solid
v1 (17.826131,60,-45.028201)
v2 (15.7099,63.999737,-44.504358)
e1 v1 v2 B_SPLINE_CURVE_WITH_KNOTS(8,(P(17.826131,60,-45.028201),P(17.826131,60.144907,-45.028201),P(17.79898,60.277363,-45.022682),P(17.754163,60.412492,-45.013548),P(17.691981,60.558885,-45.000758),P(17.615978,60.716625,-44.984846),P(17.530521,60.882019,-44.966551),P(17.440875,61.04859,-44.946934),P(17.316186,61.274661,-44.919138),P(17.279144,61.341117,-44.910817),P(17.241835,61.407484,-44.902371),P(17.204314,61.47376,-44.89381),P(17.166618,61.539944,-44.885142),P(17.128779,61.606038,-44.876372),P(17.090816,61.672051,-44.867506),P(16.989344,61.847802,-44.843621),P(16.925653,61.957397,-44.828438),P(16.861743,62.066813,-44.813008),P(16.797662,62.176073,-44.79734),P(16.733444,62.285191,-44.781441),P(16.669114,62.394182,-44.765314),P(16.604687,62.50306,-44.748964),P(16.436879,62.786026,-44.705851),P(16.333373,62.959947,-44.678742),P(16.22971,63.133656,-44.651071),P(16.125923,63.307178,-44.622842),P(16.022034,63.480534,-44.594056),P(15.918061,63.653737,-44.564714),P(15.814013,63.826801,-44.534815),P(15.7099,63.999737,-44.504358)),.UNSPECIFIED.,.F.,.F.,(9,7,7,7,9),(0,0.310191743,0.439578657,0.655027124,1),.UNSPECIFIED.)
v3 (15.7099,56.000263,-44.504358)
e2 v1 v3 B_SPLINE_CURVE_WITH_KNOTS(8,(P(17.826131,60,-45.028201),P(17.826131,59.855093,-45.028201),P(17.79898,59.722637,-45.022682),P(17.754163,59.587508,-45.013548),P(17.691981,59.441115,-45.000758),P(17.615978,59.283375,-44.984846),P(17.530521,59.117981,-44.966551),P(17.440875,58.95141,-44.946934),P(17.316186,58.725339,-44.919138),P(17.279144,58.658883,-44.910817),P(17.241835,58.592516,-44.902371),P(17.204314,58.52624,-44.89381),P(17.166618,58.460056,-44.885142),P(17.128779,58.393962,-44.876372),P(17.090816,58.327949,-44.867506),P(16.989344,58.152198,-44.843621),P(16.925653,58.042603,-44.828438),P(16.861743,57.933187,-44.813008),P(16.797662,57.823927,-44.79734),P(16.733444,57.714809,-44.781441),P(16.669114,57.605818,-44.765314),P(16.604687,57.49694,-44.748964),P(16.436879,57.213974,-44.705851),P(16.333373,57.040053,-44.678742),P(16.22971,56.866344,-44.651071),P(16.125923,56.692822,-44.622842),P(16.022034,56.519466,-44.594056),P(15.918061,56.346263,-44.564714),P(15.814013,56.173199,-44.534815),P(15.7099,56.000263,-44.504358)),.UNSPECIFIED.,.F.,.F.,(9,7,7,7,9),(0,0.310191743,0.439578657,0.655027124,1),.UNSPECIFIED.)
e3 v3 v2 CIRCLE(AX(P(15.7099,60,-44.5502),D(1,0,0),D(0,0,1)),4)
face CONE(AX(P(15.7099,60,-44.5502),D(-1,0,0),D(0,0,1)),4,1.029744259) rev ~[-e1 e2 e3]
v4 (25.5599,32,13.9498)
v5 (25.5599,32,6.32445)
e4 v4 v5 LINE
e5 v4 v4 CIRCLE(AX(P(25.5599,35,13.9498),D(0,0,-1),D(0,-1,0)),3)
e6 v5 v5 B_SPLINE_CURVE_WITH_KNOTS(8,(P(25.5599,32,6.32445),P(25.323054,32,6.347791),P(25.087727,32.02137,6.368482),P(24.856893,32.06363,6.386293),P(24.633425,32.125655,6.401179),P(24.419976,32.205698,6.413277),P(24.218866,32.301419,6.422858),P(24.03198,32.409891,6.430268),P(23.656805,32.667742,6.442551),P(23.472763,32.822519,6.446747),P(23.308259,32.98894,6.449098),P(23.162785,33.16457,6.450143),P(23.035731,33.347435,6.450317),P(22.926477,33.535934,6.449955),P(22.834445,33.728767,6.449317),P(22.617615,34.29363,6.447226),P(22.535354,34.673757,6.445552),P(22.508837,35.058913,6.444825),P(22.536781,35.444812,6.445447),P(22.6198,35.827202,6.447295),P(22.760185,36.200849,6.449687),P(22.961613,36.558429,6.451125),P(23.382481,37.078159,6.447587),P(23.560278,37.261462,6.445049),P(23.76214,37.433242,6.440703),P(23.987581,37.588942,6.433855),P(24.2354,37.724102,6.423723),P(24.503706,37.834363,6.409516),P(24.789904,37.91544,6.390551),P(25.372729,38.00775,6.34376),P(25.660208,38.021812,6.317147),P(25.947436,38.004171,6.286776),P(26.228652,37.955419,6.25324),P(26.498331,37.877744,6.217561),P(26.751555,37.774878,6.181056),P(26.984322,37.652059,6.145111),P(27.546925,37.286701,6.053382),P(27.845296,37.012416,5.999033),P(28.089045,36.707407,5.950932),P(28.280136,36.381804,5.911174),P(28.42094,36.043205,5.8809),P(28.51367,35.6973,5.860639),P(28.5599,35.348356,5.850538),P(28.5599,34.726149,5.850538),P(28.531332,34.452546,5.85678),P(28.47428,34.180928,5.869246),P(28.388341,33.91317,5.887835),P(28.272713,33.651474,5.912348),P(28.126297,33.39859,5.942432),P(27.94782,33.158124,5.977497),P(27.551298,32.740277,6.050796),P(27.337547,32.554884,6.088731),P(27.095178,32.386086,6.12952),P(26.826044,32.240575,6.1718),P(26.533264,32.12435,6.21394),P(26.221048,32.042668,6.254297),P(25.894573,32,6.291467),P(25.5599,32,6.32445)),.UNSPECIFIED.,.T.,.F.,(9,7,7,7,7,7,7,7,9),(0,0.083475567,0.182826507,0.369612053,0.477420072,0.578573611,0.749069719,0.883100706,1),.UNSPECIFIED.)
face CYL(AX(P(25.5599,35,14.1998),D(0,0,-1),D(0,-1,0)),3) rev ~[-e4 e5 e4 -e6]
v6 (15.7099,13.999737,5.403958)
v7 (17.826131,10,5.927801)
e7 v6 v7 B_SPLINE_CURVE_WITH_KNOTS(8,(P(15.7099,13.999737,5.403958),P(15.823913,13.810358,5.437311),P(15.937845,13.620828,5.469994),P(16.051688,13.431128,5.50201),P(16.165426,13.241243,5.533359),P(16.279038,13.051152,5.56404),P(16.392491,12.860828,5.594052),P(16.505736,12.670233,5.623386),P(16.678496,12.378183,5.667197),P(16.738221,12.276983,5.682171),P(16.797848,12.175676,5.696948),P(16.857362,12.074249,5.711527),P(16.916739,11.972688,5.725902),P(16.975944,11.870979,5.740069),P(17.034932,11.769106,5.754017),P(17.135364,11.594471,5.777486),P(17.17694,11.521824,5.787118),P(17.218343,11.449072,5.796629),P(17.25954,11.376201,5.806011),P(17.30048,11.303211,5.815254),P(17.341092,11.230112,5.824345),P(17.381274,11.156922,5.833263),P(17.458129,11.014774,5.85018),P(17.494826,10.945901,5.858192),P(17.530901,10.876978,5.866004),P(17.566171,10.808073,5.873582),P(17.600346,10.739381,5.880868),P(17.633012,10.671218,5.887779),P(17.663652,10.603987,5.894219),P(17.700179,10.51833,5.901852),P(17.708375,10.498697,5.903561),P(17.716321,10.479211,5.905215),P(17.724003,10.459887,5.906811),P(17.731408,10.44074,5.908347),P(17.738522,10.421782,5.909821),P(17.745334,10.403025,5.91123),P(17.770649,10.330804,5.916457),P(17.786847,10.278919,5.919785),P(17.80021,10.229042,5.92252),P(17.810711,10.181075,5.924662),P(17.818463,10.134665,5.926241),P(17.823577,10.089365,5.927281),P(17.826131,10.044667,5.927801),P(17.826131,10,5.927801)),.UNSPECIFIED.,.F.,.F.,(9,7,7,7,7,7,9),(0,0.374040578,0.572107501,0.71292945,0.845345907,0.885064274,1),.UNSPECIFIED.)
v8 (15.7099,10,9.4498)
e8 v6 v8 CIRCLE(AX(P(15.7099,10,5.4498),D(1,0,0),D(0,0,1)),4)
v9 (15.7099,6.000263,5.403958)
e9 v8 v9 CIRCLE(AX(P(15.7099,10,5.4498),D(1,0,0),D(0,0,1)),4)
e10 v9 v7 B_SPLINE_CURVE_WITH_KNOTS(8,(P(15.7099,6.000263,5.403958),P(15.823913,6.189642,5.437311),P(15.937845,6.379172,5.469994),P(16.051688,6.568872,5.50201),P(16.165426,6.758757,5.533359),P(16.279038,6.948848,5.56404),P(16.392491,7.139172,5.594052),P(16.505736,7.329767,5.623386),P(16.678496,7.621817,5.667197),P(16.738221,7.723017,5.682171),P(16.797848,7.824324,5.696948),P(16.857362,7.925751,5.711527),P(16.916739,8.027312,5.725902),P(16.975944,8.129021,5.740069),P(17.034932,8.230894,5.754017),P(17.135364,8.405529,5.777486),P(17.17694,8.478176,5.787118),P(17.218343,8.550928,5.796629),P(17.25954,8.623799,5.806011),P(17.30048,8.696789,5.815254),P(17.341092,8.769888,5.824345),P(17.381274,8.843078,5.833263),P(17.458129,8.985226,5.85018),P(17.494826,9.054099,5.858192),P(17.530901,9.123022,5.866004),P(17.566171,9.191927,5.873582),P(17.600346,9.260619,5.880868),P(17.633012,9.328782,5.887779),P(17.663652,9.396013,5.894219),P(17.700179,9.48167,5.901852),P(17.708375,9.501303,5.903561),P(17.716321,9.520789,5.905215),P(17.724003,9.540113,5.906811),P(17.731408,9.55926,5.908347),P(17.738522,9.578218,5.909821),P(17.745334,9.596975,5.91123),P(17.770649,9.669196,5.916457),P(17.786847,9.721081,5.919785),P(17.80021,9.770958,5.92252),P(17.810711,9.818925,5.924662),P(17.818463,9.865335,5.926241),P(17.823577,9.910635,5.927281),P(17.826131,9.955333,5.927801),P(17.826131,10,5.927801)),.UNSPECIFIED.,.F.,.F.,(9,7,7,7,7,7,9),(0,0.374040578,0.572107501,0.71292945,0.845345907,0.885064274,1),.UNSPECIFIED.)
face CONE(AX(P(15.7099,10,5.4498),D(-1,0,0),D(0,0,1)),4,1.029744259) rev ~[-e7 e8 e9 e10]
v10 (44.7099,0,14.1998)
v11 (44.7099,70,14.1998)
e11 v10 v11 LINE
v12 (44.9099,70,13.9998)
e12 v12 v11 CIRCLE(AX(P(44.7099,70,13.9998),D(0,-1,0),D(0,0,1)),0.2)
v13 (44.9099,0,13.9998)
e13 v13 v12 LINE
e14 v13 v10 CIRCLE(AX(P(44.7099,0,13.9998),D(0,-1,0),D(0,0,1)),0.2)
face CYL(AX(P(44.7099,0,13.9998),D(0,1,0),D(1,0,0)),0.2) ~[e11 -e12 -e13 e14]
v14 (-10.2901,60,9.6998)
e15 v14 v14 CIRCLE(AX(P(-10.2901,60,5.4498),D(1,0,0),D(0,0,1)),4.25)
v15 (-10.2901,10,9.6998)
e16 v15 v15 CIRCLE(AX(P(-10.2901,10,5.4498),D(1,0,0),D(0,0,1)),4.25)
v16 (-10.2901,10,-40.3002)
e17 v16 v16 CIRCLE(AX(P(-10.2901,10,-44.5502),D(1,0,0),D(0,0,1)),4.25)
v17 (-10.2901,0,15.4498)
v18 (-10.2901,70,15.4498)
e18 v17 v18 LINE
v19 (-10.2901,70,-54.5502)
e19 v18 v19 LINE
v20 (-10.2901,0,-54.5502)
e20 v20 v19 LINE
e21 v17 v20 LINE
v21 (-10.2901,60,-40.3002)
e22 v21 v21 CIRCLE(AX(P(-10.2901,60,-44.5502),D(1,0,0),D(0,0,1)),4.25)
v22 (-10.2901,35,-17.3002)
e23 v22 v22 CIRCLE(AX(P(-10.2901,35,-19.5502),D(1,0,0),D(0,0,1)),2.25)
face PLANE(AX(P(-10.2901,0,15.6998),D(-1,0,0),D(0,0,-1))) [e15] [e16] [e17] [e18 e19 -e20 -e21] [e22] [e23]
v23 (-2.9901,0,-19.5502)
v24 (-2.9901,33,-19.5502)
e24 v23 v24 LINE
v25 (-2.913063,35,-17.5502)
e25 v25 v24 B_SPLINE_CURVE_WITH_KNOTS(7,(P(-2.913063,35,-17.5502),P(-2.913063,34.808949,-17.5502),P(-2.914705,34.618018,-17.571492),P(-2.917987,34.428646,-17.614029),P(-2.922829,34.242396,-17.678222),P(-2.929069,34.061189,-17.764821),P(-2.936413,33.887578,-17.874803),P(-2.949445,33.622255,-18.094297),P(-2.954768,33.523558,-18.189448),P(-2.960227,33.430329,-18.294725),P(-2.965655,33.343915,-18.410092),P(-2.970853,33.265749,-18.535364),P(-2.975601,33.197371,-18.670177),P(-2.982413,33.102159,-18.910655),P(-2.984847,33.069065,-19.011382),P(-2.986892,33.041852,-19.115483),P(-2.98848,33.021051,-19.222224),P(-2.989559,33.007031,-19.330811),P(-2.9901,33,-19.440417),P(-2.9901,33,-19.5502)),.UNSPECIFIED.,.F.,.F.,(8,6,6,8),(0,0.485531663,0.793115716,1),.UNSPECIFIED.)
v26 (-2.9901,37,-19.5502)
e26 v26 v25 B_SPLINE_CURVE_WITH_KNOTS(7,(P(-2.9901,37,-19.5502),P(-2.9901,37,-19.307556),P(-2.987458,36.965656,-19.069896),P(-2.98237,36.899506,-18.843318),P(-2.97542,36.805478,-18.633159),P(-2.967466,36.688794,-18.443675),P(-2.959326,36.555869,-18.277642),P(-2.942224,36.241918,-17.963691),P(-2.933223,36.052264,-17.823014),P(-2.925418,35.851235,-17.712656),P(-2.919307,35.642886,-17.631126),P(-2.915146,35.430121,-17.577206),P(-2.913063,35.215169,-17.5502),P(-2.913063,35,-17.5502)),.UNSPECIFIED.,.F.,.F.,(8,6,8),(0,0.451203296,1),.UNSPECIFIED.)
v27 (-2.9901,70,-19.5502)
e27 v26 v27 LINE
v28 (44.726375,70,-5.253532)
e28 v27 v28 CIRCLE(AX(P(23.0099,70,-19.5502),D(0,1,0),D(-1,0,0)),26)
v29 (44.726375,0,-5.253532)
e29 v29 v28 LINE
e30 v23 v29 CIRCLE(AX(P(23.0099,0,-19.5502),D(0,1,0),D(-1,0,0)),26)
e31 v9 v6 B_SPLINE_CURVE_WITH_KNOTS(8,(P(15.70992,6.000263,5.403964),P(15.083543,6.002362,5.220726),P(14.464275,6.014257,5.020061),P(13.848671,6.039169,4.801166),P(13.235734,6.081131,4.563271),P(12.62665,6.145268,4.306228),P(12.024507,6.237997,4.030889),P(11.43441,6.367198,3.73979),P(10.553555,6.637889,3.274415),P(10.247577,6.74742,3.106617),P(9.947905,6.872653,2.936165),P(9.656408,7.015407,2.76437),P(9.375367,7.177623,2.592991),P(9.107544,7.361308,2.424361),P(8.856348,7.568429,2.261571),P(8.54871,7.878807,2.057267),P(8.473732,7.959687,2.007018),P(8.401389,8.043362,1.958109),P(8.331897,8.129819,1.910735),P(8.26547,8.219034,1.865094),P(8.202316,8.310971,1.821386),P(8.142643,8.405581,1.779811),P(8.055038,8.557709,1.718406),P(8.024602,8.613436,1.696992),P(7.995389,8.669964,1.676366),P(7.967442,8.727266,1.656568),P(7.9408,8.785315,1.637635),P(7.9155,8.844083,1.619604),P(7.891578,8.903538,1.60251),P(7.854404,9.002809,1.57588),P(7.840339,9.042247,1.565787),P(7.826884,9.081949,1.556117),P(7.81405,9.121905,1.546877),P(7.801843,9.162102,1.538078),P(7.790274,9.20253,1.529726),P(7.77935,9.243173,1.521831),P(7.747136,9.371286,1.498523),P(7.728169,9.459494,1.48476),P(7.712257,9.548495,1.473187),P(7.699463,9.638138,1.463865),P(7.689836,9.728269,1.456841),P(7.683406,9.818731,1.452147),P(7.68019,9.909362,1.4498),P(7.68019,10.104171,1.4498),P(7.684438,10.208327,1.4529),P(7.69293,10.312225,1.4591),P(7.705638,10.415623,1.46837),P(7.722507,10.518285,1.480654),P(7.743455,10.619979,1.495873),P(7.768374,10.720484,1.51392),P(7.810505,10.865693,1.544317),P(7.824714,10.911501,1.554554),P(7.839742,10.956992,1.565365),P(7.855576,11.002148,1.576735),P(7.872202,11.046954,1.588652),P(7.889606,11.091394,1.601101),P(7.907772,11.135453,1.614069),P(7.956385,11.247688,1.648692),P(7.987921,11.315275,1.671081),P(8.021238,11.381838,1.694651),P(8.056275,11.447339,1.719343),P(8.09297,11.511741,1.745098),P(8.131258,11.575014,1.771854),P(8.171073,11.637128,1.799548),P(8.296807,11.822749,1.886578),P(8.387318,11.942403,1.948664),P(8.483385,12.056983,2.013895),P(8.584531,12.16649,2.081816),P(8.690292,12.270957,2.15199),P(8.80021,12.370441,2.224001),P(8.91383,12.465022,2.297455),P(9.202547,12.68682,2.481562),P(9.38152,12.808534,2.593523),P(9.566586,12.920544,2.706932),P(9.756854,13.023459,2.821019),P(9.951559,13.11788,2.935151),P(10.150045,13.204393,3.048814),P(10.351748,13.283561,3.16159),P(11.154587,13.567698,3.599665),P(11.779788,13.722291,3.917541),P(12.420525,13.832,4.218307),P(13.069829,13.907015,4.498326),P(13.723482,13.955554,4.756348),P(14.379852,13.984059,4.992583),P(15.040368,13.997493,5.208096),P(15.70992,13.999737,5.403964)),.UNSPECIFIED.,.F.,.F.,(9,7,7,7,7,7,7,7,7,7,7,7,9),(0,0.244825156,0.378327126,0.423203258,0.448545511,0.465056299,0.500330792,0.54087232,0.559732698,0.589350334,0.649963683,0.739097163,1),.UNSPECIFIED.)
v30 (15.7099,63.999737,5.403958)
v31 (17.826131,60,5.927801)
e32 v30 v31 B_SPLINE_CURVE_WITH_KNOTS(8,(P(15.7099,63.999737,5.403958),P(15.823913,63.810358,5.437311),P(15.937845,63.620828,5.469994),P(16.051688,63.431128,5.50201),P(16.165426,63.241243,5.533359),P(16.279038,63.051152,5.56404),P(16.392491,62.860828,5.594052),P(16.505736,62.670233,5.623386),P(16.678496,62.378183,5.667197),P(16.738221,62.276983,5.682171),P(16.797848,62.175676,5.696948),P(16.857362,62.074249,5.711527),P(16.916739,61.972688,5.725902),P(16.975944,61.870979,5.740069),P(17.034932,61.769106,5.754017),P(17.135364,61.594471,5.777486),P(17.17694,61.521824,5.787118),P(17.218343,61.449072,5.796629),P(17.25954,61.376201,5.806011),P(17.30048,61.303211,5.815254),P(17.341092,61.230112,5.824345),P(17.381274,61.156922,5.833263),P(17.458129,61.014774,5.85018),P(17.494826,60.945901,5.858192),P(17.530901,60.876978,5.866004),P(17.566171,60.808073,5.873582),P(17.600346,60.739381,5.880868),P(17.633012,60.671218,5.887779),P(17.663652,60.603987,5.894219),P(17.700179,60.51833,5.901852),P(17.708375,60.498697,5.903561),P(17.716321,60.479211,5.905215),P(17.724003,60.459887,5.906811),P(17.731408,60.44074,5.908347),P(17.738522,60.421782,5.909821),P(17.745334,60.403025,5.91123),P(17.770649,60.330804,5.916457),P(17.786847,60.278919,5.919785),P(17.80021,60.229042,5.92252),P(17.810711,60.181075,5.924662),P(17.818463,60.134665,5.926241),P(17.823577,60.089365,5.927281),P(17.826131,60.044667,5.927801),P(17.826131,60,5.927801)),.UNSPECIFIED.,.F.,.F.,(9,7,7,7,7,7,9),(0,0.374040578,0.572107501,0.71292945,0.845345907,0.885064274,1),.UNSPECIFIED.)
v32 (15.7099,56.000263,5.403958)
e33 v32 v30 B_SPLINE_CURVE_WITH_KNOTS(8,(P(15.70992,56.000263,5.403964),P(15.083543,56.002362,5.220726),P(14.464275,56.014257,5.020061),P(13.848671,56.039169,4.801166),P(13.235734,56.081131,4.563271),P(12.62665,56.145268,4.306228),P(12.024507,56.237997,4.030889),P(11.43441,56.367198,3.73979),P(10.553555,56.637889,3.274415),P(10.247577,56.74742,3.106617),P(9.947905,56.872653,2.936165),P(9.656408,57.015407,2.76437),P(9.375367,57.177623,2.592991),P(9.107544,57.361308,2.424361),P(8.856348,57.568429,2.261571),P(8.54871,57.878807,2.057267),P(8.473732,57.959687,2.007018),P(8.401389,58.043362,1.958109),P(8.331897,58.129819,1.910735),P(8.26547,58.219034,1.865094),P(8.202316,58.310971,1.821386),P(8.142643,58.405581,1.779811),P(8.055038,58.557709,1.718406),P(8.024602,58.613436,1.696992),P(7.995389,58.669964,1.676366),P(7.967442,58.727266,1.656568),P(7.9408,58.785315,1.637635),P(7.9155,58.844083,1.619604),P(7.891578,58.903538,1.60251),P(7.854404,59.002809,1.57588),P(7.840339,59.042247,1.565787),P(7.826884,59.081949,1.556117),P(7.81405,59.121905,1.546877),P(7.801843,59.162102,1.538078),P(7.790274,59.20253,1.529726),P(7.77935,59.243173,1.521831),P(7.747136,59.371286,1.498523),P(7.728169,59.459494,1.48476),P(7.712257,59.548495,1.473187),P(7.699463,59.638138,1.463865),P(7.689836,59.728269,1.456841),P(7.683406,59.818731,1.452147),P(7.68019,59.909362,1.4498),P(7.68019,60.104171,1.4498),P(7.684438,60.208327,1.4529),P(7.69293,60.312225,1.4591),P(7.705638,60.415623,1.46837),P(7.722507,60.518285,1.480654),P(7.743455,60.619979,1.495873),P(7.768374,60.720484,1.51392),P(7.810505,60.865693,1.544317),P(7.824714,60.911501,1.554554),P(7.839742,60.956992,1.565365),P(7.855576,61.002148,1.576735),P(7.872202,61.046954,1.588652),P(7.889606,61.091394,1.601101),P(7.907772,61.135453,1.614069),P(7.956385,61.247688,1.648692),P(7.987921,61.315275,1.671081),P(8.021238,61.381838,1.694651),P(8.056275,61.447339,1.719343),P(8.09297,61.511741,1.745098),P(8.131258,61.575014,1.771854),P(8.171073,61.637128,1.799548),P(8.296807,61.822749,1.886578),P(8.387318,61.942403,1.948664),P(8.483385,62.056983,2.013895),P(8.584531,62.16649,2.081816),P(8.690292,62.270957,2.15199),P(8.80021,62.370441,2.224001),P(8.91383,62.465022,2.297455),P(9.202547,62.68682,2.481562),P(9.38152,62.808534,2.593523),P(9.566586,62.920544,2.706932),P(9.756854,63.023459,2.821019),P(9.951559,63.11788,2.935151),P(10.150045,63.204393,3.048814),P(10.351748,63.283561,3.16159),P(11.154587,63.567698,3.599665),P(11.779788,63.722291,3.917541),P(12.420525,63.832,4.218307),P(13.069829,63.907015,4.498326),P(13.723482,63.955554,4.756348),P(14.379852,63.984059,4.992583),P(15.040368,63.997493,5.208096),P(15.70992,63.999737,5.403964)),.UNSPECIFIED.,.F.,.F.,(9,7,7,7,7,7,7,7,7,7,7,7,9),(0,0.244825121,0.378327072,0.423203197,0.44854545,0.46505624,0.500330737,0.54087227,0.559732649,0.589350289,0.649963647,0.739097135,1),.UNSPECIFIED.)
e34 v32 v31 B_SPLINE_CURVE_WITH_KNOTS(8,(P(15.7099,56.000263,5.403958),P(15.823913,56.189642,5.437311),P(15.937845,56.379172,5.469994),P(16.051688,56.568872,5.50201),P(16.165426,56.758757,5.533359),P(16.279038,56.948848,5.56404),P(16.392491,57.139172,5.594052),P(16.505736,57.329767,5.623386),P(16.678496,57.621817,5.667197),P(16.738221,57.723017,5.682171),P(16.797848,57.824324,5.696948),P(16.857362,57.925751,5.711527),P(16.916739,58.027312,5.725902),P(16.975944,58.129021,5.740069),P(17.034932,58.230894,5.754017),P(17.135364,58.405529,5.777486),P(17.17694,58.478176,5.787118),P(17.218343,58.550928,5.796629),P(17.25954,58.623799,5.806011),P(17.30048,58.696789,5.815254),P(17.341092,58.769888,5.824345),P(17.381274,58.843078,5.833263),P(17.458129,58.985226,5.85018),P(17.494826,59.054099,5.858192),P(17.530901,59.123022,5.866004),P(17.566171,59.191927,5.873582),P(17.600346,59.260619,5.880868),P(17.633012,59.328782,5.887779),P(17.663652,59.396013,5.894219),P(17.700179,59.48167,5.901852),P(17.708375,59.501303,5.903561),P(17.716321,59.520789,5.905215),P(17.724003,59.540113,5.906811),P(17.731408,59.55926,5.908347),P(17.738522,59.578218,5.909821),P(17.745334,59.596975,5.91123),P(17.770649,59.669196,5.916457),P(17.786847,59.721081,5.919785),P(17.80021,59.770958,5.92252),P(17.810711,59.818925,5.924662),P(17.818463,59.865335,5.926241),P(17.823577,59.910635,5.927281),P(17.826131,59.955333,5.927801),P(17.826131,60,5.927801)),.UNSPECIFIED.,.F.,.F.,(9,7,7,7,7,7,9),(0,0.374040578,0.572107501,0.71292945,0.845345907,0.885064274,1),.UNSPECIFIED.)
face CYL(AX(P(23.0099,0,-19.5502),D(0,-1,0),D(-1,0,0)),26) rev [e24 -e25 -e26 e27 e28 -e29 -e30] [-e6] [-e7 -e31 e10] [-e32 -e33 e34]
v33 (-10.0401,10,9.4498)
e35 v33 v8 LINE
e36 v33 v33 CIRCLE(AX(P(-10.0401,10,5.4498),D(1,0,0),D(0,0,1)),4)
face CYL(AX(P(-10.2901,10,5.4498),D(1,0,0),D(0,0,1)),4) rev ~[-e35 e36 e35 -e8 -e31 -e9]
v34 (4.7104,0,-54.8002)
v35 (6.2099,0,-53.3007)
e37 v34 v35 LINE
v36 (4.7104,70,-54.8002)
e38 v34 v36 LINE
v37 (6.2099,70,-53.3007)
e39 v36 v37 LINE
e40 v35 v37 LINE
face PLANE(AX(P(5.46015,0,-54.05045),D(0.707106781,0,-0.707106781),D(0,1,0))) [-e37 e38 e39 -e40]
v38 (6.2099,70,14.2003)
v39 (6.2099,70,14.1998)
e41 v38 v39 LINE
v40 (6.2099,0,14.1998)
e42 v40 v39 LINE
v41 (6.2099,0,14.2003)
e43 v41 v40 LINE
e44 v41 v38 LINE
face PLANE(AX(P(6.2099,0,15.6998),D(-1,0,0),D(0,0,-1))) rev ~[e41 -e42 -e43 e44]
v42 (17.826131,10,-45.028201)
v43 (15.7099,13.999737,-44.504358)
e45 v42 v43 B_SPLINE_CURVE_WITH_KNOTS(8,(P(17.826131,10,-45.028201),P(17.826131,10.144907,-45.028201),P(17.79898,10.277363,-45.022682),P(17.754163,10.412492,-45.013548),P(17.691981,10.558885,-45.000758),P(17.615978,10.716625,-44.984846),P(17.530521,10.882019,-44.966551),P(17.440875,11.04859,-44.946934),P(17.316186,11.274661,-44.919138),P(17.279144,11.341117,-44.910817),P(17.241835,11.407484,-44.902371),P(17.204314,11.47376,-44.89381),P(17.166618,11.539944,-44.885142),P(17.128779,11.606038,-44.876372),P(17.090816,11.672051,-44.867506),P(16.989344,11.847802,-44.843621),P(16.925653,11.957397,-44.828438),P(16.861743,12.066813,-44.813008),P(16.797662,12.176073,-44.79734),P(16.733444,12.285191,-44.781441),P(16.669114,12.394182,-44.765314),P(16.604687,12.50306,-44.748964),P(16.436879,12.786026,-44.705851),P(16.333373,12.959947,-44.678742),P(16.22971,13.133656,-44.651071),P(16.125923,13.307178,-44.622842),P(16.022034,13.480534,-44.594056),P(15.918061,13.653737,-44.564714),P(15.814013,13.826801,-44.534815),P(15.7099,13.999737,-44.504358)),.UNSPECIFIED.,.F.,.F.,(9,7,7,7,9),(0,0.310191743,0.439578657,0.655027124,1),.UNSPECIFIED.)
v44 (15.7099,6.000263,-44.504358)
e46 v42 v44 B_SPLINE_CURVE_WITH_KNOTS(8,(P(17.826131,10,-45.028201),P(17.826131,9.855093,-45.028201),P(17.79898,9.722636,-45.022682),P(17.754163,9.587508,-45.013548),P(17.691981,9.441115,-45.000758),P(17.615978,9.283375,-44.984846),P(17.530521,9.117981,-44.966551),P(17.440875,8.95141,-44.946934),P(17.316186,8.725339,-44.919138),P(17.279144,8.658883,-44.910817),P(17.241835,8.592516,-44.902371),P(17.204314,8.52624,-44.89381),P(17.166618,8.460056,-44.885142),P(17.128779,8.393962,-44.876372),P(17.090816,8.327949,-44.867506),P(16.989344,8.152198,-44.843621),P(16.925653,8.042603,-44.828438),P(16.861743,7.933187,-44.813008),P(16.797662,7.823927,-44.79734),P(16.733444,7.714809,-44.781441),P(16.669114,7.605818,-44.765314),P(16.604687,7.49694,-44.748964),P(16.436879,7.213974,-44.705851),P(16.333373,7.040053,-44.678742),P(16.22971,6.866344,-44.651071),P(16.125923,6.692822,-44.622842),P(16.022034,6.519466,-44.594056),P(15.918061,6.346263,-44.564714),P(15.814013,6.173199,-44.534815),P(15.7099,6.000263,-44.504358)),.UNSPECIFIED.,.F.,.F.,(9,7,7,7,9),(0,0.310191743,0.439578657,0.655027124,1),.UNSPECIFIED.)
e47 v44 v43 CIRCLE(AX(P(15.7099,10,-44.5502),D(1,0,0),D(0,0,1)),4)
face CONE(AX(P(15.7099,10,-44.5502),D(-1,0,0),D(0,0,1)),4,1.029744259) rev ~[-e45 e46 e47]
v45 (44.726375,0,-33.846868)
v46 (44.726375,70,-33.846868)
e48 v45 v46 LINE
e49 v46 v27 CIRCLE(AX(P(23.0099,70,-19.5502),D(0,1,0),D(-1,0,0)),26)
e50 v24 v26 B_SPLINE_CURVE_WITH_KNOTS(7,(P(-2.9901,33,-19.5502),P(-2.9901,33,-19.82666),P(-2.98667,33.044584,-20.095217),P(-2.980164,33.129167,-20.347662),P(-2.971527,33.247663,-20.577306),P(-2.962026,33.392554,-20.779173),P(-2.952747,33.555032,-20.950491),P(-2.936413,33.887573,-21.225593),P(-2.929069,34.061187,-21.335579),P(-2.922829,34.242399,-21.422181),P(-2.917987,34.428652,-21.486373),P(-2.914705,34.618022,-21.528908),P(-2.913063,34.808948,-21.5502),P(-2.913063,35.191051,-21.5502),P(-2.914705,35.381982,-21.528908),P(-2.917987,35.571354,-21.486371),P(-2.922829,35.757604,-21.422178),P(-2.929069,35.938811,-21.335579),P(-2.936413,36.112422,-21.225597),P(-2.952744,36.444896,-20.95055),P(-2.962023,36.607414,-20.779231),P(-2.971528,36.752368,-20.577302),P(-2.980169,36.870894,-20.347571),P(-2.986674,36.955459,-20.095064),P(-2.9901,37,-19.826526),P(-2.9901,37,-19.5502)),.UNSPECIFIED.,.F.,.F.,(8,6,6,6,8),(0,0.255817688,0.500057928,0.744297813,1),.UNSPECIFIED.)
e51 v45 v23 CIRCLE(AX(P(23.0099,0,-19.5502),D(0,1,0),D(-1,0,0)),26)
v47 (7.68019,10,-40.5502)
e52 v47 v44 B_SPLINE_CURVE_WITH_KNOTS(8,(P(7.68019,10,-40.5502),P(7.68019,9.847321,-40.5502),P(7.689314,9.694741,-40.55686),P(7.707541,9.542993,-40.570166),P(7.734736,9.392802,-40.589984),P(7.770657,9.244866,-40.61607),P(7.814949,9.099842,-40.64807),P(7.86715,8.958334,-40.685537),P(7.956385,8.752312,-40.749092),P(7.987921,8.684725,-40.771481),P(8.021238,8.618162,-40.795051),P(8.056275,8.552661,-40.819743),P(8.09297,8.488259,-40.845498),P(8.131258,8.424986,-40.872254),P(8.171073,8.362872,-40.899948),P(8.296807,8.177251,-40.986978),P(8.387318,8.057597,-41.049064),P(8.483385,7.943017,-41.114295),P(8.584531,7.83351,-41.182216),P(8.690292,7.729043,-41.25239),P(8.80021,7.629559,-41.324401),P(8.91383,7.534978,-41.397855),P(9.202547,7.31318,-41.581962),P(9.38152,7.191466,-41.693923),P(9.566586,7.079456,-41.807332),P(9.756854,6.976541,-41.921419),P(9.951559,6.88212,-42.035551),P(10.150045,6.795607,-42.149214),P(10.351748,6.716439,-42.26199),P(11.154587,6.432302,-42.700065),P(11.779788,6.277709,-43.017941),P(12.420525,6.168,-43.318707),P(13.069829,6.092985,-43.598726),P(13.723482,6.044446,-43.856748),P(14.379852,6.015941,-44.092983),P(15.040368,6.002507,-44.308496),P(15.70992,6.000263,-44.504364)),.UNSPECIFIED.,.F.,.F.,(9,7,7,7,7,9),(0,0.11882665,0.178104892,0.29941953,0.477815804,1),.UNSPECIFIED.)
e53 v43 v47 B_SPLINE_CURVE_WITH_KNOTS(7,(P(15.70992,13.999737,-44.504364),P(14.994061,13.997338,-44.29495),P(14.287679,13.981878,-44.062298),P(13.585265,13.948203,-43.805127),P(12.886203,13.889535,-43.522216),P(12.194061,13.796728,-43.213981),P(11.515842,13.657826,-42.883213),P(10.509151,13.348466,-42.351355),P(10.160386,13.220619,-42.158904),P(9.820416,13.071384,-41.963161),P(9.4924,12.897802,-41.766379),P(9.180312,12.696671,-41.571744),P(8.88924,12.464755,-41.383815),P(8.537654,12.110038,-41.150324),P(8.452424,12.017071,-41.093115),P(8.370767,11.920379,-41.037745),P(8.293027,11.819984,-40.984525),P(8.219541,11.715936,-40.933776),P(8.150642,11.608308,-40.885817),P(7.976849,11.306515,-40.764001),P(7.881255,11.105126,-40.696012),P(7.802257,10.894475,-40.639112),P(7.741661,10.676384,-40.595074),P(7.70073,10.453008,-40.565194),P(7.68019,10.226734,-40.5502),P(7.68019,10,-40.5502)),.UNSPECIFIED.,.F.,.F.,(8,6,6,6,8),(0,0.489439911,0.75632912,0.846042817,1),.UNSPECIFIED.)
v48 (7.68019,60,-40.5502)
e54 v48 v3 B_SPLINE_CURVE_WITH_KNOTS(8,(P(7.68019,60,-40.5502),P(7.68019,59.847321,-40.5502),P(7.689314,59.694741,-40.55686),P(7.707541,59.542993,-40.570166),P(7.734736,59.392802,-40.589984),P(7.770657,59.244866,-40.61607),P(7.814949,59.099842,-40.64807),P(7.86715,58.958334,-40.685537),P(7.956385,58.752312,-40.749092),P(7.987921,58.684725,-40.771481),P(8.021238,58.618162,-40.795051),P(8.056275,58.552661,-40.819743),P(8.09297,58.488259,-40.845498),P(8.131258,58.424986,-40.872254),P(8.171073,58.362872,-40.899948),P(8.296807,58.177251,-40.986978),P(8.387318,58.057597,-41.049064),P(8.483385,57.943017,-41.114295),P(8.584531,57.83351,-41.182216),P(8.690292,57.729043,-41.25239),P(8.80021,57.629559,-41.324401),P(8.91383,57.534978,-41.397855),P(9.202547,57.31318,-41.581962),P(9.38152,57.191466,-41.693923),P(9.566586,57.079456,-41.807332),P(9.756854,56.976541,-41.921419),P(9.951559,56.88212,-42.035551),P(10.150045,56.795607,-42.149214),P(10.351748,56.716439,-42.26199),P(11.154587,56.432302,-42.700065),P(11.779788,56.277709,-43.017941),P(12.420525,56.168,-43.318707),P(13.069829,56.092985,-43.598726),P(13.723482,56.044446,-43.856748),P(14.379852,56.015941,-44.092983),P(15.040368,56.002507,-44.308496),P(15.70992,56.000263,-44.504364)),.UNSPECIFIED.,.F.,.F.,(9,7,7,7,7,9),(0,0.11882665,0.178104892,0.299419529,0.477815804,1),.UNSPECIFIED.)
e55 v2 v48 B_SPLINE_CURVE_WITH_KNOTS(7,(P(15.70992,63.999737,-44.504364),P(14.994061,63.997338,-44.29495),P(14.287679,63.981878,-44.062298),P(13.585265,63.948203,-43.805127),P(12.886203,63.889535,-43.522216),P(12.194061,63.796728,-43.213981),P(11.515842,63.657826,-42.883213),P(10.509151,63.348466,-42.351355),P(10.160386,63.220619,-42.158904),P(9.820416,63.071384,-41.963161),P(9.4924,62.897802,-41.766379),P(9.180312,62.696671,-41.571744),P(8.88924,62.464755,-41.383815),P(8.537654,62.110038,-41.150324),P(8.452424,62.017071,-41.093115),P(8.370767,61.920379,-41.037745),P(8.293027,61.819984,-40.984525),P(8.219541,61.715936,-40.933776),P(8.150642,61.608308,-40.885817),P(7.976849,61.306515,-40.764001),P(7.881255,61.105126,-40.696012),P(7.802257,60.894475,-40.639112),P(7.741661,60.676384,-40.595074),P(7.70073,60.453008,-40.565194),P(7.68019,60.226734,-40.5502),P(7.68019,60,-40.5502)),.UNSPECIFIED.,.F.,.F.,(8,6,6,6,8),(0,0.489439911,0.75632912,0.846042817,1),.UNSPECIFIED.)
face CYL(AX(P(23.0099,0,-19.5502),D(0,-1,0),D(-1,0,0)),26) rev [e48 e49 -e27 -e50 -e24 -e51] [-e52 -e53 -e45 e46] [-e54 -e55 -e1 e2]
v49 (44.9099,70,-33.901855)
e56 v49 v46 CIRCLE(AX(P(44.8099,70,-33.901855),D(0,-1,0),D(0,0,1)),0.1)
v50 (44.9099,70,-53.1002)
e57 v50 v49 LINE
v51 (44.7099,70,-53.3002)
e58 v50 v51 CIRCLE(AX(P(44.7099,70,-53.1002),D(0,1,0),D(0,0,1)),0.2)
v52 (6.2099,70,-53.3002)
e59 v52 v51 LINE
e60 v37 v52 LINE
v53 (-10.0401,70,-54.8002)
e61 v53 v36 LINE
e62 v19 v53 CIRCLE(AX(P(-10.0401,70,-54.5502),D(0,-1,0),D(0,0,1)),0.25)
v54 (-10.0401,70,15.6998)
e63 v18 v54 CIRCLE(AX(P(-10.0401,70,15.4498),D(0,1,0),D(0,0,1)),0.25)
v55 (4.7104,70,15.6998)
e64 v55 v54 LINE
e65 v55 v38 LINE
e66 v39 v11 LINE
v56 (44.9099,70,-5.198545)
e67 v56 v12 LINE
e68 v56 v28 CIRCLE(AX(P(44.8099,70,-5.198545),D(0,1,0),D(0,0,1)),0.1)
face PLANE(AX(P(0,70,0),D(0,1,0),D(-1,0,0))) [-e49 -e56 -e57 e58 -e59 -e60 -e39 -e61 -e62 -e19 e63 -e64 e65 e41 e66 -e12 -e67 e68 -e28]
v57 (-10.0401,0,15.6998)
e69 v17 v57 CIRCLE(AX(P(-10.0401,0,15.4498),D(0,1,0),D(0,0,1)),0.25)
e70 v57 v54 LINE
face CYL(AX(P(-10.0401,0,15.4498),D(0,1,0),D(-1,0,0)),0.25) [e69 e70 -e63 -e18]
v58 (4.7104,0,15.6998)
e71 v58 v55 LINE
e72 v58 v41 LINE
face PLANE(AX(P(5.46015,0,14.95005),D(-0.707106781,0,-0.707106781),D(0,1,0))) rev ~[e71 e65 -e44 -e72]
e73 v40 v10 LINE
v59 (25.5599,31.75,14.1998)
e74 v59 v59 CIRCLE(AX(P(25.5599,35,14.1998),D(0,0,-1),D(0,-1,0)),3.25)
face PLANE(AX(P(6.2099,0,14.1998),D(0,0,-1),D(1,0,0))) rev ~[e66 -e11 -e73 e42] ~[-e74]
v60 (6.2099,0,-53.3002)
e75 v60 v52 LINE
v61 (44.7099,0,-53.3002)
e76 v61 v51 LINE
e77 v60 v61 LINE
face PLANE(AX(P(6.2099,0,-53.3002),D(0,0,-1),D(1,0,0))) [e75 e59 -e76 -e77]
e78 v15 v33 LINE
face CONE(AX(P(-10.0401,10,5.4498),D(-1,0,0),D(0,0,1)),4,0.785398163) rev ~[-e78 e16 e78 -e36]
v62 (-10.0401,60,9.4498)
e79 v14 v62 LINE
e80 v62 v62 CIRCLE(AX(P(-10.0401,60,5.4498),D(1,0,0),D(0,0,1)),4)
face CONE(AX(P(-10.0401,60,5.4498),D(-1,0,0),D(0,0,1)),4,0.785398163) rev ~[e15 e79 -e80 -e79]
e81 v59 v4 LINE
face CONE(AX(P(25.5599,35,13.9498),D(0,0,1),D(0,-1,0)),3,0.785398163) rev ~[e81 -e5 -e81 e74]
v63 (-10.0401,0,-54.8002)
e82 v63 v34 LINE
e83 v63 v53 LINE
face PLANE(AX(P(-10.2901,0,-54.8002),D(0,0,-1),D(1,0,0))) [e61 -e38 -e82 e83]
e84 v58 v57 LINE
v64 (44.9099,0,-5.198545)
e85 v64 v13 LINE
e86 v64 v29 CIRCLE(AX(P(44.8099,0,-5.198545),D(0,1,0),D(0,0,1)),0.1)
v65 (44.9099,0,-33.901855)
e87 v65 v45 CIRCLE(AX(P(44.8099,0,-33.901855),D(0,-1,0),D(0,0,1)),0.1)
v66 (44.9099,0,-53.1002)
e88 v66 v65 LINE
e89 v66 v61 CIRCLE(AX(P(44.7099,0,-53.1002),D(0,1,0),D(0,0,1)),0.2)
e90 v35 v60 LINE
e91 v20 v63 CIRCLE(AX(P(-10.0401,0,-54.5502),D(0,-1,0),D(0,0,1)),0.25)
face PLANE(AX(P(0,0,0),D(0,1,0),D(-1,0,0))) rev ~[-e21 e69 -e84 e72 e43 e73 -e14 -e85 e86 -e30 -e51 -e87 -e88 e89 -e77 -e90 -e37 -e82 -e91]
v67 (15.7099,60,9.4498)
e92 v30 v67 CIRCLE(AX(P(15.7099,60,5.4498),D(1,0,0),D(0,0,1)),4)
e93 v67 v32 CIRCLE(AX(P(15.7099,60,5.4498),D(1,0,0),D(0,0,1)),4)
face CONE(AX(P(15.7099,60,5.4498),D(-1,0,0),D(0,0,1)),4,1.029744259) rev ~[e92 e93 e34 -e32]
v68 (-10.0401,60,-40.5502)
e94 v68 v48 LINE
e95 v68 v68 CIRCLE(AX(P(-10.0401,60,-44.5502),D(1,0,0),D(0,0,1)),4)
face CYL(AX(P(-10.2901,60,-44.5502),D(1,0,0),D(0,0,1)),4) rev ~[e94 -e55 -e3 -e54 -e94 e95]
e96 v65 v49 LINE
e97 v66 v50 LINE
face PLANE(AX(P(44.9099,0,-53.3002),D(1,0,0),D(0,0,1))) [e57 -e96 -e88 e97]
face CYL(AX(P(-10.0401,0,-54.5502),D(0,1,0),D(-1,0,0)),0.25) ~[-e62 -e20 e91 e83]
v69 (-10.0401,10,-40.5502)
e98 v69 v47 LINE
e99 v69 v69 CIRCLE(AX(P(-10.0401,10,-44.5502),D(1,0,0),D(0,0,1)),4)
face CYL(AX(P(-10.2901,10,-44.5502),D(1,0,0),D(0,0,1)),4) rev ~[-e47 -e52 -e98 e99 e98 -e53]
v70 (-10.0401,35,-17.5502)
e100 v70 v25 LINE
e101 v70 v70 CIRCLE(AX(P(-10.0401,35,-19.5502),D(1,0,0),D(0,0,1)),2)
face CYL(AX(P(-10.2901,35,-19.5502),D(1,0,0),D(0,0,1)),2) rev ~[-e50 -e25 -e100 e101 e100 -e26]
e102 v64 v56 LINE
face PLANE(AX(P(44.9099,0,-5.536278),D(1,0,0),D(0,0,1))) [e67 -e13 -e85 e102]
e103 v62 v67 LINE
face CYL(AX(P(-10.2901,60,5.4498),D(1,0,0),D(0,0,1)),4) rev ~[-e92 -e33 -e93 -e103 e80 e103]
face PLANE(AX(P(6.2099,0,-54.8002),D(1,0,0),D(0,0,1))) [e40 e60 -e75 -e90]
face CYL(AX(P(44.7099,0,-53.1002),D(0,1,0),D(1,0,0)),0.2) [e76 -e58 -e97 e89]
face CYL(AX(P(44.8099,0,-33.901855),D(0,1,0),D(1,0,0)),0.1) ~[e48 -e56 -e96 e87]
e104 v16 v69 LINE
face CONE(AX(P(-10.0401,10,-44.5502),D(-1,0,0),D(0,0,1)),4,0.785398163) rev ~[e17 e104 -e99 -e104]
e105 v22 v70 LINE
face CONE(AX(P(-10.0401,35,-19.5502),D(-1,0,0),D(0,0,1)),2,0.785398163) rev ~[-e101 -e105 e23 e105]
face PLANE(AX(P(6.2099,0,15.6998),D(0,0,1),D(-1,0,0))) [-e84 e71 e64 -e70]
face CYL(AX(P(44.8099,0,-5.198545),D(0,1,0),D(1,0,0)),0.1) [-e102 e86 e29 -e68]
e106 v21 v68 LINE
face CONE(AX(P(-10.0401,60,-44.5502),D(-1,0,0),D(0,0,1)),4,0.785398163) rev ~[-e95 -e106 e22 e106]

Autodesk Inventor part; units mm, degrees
ref_plane "YZ Plane" through (0, 0, 0) normal (1, 0, 0) x (0, 1, 0)
ref_plane "XZ Plane" through (0, 0, 0) normal (0, 1, 0) x (-1, 0, 0)
ref_plane "XY Plane" through (0, 0, 0) normal (0, 0, 1) x (1, 0, 0)
sketch "Boceto1" plane through (0, 0, 0) normal (0, 1, 0) x (-1, 0, 0)
  line L0 (10.2901, 15.6998) -> (10.2901, -54.8002)
  line L1 (10.2901, -54.8002) -> (-6.2099, -54.8002)
  line L2 (-44.9099, -53.3002) -> (-44.9099, 14.1998)
  line L3 (-6.2099, 15.6998) -> (10.2901, 15.6998)
  line L4 (10.2901, 15.6998) -> (-6.2099, 15.6998)
  line L5 (-6.2099, 15.6998) -> (-6.2099, 14.1998)
  line L6 (-6.2099, 14.1998) -> (-44.9099, 14.1998)
  line L7 (10.2901, -54.8002) -> (-6.2099, -54.8002)
  line L8 (-6.2099, -54.8002) -> (-6.2099, -53.3002)
  line L9 (-6.2099, -53.3002) -> (-44.9099, -53.3002)
  circle A0 centre (-23.0099, -19.5502) radius 26
  point P0 (0, 0)
  point P1 (-44.9099, -5.5363)
  point P2 (-44.9099, -33.5641)
  dimension "d0" = 70.5
  dimension "d3" = 16.5
  dimension "d4" = 1.5
  dimension "d5" = 1.5
  dimension "d6" = 55.2
  dimension "d7" = 67.5
  dimension "d8" = 52
  dimension "d9" = 33.3
  dimension "d10" = 33.75
extrude "Extrusión1" add sketch "Boceto1" along normal blind 70 contours L0 L1 L8 L9 L2 A0 L6 L5 L3
fillet "Empalme1" radius 0.25 2 edges at (-10.2901, 35, 15.6998) (-10.2901, 35, -54.8002)
chamfer "Chaflán1" distance 1.5 angle 45 1 edges at (6.2099, 35, 15.6998)
chamfer "Chaflán2" distance 1.5 angle 45 1 edges at (6.2099, 35, -54.8002)
sketch "Boceto2" plane through (-10.2901, 0, -54.5502) normal (-1, 0, 0) x (0, 0, 1)
  line L0 (9, 70) -> (61, 70) projected
  line L1 (35, 70) -> (35, 0)
  line L2 (0, 0) -> (70, 0) projected
  line L3 (35, 35) -> (-0.338, 35)
  line L4 (-0.338, 35) -> (70.438, 35)
  line L5 (35, 35) -> (59.975, 35)
  line L6 (35, 35) -> (10, 35)
  line L7 (10, 35) -> (10, 60)
  line L8 (10, 60) -> (60, 60)
  line L9 (60, 60) -> (60, 10)
  line L10 (60, 10) -> (10, 10)
  line L11 (10, 10) -> (10, 60)
  circle A0 centre (10, 60) radius 4
  circle A1 centre (60, 60) radius 4
  circle A2 centre (10, 10) radius 4
  circle A3 centre (60, 10) radius 4
  circle A4 centre (35, 35) radius 2
  point P0 (54.5502, 0)
  point P1 (49.0139, 70)
  point P2 (20.9861, 70)
  dimension "d23" = 25
  dimension "d24" = 50
  dimension "d25" = 50
  dimension "d26" = 8
  dimension "d27" = 8
  dimension "d28" = 8
  dimension "d29" = 8
  dimension "d30" = 4
  dimension "d73" = 25
hole "Agujero1" at (-10.2901, 60, -44.5502) at (-10.2901, 60, 5.4498) at (-10.2901, 10, -44.5502) at (-10.2901, 10, 5.4498) direction (1, 0, 0) diameter 8 depth 26 tip angle 118
thread "Rosca1" size "M8x1.25" class "6H" standard "ISO Metric profile" length 11.5
thread "Rosca2" size "M8x1.25" class "6H" standard "ISO Metric profile" length 11.5
thread "Rosca3" size "M8x1.25" class "6H" standard "ISO Metric profile" length 11.5
thread "Rosca4" size "M8x1.25" class "6H" standard "ISO Metric profile" length 11.5
hole "Agujero2" at (-10.2901, 35, -19.5502) direction (1, 0, 0) diameter 4 depth 26 tip angle 118
thread "Rosca5" size "M4x0.7" class "6H" standard "ISO Metric profile" length 11.5
chamfer "Chaflán3" distance 0.25 angle 45 5 edges at (-10.2901, 60, -48.5502) (-10.2901, 60, 1.4498) (-10.2901, 10, -48.5502) (-10.2901, 10, 1.4498) (-10.2901, 35, -21.5502)
sketch "Boceto3" plane through (44.9099, 0, 14.1998) normal (0, 0, 1) x (1, 0, 0)
  point P0 (-44.9099, 0)
sketch "Boceto4" plane through (44.9099, 0, 14.1998) normal (0, 0, 1) x (1, 0, 0)
  line L0 (-38.7, 0) -> (-38.7, 70) projected
  line L1 (-38.7, 0) -> (-38.7, 70)
  line L2 (-47.9, 70) -> (0, 70) projected
  line L3 (-38.7, 70) -> (0, 70)
  line L4 (0, 0) -> (0, 70) projected
  line L5 (0, 70) -> (0, 0)
  line L6 (0, 0) -> (-38.7, 0)
  line L7 (-47.9, 0) -> (0, 0) projected
  line L8 (-19.35, 0) -> (-19.35, 70)
  line L9 (-19.35, 35) -> (-14.4981, 35)
  line L10 (-14.4981, 35) -> (-25.37, 35)
  circle A0 centre (-19.35, 35) radius 3
  point P0 (-44.9099, 0)
  dimension "d58" = 6
hole "Agujero3" at (25.5599, 35, 14.1998) direction (0, 0, -1) diameter 6 depth 26 tip angle 118
thread "Rosca6" size "M6x1" class "6H" standard "ISO Metric profile" length 11.5
chamfer "Chaflán4" distance 0.25 angle 45 1 edges at (25.5599, 38, 14.1998)
fillet "Empalme2" radius 0.1 2 edges at (44.9099, 35, -5.5363) (44.9099, 35, -33.5641)
fillet "Empalme3" radius 0.2 2 edges at (44.9099, 35, -53.3002) (44.9099, 35, 14.1998)
properties part number "Soporte de Motor" material "Aluminio 6061"
